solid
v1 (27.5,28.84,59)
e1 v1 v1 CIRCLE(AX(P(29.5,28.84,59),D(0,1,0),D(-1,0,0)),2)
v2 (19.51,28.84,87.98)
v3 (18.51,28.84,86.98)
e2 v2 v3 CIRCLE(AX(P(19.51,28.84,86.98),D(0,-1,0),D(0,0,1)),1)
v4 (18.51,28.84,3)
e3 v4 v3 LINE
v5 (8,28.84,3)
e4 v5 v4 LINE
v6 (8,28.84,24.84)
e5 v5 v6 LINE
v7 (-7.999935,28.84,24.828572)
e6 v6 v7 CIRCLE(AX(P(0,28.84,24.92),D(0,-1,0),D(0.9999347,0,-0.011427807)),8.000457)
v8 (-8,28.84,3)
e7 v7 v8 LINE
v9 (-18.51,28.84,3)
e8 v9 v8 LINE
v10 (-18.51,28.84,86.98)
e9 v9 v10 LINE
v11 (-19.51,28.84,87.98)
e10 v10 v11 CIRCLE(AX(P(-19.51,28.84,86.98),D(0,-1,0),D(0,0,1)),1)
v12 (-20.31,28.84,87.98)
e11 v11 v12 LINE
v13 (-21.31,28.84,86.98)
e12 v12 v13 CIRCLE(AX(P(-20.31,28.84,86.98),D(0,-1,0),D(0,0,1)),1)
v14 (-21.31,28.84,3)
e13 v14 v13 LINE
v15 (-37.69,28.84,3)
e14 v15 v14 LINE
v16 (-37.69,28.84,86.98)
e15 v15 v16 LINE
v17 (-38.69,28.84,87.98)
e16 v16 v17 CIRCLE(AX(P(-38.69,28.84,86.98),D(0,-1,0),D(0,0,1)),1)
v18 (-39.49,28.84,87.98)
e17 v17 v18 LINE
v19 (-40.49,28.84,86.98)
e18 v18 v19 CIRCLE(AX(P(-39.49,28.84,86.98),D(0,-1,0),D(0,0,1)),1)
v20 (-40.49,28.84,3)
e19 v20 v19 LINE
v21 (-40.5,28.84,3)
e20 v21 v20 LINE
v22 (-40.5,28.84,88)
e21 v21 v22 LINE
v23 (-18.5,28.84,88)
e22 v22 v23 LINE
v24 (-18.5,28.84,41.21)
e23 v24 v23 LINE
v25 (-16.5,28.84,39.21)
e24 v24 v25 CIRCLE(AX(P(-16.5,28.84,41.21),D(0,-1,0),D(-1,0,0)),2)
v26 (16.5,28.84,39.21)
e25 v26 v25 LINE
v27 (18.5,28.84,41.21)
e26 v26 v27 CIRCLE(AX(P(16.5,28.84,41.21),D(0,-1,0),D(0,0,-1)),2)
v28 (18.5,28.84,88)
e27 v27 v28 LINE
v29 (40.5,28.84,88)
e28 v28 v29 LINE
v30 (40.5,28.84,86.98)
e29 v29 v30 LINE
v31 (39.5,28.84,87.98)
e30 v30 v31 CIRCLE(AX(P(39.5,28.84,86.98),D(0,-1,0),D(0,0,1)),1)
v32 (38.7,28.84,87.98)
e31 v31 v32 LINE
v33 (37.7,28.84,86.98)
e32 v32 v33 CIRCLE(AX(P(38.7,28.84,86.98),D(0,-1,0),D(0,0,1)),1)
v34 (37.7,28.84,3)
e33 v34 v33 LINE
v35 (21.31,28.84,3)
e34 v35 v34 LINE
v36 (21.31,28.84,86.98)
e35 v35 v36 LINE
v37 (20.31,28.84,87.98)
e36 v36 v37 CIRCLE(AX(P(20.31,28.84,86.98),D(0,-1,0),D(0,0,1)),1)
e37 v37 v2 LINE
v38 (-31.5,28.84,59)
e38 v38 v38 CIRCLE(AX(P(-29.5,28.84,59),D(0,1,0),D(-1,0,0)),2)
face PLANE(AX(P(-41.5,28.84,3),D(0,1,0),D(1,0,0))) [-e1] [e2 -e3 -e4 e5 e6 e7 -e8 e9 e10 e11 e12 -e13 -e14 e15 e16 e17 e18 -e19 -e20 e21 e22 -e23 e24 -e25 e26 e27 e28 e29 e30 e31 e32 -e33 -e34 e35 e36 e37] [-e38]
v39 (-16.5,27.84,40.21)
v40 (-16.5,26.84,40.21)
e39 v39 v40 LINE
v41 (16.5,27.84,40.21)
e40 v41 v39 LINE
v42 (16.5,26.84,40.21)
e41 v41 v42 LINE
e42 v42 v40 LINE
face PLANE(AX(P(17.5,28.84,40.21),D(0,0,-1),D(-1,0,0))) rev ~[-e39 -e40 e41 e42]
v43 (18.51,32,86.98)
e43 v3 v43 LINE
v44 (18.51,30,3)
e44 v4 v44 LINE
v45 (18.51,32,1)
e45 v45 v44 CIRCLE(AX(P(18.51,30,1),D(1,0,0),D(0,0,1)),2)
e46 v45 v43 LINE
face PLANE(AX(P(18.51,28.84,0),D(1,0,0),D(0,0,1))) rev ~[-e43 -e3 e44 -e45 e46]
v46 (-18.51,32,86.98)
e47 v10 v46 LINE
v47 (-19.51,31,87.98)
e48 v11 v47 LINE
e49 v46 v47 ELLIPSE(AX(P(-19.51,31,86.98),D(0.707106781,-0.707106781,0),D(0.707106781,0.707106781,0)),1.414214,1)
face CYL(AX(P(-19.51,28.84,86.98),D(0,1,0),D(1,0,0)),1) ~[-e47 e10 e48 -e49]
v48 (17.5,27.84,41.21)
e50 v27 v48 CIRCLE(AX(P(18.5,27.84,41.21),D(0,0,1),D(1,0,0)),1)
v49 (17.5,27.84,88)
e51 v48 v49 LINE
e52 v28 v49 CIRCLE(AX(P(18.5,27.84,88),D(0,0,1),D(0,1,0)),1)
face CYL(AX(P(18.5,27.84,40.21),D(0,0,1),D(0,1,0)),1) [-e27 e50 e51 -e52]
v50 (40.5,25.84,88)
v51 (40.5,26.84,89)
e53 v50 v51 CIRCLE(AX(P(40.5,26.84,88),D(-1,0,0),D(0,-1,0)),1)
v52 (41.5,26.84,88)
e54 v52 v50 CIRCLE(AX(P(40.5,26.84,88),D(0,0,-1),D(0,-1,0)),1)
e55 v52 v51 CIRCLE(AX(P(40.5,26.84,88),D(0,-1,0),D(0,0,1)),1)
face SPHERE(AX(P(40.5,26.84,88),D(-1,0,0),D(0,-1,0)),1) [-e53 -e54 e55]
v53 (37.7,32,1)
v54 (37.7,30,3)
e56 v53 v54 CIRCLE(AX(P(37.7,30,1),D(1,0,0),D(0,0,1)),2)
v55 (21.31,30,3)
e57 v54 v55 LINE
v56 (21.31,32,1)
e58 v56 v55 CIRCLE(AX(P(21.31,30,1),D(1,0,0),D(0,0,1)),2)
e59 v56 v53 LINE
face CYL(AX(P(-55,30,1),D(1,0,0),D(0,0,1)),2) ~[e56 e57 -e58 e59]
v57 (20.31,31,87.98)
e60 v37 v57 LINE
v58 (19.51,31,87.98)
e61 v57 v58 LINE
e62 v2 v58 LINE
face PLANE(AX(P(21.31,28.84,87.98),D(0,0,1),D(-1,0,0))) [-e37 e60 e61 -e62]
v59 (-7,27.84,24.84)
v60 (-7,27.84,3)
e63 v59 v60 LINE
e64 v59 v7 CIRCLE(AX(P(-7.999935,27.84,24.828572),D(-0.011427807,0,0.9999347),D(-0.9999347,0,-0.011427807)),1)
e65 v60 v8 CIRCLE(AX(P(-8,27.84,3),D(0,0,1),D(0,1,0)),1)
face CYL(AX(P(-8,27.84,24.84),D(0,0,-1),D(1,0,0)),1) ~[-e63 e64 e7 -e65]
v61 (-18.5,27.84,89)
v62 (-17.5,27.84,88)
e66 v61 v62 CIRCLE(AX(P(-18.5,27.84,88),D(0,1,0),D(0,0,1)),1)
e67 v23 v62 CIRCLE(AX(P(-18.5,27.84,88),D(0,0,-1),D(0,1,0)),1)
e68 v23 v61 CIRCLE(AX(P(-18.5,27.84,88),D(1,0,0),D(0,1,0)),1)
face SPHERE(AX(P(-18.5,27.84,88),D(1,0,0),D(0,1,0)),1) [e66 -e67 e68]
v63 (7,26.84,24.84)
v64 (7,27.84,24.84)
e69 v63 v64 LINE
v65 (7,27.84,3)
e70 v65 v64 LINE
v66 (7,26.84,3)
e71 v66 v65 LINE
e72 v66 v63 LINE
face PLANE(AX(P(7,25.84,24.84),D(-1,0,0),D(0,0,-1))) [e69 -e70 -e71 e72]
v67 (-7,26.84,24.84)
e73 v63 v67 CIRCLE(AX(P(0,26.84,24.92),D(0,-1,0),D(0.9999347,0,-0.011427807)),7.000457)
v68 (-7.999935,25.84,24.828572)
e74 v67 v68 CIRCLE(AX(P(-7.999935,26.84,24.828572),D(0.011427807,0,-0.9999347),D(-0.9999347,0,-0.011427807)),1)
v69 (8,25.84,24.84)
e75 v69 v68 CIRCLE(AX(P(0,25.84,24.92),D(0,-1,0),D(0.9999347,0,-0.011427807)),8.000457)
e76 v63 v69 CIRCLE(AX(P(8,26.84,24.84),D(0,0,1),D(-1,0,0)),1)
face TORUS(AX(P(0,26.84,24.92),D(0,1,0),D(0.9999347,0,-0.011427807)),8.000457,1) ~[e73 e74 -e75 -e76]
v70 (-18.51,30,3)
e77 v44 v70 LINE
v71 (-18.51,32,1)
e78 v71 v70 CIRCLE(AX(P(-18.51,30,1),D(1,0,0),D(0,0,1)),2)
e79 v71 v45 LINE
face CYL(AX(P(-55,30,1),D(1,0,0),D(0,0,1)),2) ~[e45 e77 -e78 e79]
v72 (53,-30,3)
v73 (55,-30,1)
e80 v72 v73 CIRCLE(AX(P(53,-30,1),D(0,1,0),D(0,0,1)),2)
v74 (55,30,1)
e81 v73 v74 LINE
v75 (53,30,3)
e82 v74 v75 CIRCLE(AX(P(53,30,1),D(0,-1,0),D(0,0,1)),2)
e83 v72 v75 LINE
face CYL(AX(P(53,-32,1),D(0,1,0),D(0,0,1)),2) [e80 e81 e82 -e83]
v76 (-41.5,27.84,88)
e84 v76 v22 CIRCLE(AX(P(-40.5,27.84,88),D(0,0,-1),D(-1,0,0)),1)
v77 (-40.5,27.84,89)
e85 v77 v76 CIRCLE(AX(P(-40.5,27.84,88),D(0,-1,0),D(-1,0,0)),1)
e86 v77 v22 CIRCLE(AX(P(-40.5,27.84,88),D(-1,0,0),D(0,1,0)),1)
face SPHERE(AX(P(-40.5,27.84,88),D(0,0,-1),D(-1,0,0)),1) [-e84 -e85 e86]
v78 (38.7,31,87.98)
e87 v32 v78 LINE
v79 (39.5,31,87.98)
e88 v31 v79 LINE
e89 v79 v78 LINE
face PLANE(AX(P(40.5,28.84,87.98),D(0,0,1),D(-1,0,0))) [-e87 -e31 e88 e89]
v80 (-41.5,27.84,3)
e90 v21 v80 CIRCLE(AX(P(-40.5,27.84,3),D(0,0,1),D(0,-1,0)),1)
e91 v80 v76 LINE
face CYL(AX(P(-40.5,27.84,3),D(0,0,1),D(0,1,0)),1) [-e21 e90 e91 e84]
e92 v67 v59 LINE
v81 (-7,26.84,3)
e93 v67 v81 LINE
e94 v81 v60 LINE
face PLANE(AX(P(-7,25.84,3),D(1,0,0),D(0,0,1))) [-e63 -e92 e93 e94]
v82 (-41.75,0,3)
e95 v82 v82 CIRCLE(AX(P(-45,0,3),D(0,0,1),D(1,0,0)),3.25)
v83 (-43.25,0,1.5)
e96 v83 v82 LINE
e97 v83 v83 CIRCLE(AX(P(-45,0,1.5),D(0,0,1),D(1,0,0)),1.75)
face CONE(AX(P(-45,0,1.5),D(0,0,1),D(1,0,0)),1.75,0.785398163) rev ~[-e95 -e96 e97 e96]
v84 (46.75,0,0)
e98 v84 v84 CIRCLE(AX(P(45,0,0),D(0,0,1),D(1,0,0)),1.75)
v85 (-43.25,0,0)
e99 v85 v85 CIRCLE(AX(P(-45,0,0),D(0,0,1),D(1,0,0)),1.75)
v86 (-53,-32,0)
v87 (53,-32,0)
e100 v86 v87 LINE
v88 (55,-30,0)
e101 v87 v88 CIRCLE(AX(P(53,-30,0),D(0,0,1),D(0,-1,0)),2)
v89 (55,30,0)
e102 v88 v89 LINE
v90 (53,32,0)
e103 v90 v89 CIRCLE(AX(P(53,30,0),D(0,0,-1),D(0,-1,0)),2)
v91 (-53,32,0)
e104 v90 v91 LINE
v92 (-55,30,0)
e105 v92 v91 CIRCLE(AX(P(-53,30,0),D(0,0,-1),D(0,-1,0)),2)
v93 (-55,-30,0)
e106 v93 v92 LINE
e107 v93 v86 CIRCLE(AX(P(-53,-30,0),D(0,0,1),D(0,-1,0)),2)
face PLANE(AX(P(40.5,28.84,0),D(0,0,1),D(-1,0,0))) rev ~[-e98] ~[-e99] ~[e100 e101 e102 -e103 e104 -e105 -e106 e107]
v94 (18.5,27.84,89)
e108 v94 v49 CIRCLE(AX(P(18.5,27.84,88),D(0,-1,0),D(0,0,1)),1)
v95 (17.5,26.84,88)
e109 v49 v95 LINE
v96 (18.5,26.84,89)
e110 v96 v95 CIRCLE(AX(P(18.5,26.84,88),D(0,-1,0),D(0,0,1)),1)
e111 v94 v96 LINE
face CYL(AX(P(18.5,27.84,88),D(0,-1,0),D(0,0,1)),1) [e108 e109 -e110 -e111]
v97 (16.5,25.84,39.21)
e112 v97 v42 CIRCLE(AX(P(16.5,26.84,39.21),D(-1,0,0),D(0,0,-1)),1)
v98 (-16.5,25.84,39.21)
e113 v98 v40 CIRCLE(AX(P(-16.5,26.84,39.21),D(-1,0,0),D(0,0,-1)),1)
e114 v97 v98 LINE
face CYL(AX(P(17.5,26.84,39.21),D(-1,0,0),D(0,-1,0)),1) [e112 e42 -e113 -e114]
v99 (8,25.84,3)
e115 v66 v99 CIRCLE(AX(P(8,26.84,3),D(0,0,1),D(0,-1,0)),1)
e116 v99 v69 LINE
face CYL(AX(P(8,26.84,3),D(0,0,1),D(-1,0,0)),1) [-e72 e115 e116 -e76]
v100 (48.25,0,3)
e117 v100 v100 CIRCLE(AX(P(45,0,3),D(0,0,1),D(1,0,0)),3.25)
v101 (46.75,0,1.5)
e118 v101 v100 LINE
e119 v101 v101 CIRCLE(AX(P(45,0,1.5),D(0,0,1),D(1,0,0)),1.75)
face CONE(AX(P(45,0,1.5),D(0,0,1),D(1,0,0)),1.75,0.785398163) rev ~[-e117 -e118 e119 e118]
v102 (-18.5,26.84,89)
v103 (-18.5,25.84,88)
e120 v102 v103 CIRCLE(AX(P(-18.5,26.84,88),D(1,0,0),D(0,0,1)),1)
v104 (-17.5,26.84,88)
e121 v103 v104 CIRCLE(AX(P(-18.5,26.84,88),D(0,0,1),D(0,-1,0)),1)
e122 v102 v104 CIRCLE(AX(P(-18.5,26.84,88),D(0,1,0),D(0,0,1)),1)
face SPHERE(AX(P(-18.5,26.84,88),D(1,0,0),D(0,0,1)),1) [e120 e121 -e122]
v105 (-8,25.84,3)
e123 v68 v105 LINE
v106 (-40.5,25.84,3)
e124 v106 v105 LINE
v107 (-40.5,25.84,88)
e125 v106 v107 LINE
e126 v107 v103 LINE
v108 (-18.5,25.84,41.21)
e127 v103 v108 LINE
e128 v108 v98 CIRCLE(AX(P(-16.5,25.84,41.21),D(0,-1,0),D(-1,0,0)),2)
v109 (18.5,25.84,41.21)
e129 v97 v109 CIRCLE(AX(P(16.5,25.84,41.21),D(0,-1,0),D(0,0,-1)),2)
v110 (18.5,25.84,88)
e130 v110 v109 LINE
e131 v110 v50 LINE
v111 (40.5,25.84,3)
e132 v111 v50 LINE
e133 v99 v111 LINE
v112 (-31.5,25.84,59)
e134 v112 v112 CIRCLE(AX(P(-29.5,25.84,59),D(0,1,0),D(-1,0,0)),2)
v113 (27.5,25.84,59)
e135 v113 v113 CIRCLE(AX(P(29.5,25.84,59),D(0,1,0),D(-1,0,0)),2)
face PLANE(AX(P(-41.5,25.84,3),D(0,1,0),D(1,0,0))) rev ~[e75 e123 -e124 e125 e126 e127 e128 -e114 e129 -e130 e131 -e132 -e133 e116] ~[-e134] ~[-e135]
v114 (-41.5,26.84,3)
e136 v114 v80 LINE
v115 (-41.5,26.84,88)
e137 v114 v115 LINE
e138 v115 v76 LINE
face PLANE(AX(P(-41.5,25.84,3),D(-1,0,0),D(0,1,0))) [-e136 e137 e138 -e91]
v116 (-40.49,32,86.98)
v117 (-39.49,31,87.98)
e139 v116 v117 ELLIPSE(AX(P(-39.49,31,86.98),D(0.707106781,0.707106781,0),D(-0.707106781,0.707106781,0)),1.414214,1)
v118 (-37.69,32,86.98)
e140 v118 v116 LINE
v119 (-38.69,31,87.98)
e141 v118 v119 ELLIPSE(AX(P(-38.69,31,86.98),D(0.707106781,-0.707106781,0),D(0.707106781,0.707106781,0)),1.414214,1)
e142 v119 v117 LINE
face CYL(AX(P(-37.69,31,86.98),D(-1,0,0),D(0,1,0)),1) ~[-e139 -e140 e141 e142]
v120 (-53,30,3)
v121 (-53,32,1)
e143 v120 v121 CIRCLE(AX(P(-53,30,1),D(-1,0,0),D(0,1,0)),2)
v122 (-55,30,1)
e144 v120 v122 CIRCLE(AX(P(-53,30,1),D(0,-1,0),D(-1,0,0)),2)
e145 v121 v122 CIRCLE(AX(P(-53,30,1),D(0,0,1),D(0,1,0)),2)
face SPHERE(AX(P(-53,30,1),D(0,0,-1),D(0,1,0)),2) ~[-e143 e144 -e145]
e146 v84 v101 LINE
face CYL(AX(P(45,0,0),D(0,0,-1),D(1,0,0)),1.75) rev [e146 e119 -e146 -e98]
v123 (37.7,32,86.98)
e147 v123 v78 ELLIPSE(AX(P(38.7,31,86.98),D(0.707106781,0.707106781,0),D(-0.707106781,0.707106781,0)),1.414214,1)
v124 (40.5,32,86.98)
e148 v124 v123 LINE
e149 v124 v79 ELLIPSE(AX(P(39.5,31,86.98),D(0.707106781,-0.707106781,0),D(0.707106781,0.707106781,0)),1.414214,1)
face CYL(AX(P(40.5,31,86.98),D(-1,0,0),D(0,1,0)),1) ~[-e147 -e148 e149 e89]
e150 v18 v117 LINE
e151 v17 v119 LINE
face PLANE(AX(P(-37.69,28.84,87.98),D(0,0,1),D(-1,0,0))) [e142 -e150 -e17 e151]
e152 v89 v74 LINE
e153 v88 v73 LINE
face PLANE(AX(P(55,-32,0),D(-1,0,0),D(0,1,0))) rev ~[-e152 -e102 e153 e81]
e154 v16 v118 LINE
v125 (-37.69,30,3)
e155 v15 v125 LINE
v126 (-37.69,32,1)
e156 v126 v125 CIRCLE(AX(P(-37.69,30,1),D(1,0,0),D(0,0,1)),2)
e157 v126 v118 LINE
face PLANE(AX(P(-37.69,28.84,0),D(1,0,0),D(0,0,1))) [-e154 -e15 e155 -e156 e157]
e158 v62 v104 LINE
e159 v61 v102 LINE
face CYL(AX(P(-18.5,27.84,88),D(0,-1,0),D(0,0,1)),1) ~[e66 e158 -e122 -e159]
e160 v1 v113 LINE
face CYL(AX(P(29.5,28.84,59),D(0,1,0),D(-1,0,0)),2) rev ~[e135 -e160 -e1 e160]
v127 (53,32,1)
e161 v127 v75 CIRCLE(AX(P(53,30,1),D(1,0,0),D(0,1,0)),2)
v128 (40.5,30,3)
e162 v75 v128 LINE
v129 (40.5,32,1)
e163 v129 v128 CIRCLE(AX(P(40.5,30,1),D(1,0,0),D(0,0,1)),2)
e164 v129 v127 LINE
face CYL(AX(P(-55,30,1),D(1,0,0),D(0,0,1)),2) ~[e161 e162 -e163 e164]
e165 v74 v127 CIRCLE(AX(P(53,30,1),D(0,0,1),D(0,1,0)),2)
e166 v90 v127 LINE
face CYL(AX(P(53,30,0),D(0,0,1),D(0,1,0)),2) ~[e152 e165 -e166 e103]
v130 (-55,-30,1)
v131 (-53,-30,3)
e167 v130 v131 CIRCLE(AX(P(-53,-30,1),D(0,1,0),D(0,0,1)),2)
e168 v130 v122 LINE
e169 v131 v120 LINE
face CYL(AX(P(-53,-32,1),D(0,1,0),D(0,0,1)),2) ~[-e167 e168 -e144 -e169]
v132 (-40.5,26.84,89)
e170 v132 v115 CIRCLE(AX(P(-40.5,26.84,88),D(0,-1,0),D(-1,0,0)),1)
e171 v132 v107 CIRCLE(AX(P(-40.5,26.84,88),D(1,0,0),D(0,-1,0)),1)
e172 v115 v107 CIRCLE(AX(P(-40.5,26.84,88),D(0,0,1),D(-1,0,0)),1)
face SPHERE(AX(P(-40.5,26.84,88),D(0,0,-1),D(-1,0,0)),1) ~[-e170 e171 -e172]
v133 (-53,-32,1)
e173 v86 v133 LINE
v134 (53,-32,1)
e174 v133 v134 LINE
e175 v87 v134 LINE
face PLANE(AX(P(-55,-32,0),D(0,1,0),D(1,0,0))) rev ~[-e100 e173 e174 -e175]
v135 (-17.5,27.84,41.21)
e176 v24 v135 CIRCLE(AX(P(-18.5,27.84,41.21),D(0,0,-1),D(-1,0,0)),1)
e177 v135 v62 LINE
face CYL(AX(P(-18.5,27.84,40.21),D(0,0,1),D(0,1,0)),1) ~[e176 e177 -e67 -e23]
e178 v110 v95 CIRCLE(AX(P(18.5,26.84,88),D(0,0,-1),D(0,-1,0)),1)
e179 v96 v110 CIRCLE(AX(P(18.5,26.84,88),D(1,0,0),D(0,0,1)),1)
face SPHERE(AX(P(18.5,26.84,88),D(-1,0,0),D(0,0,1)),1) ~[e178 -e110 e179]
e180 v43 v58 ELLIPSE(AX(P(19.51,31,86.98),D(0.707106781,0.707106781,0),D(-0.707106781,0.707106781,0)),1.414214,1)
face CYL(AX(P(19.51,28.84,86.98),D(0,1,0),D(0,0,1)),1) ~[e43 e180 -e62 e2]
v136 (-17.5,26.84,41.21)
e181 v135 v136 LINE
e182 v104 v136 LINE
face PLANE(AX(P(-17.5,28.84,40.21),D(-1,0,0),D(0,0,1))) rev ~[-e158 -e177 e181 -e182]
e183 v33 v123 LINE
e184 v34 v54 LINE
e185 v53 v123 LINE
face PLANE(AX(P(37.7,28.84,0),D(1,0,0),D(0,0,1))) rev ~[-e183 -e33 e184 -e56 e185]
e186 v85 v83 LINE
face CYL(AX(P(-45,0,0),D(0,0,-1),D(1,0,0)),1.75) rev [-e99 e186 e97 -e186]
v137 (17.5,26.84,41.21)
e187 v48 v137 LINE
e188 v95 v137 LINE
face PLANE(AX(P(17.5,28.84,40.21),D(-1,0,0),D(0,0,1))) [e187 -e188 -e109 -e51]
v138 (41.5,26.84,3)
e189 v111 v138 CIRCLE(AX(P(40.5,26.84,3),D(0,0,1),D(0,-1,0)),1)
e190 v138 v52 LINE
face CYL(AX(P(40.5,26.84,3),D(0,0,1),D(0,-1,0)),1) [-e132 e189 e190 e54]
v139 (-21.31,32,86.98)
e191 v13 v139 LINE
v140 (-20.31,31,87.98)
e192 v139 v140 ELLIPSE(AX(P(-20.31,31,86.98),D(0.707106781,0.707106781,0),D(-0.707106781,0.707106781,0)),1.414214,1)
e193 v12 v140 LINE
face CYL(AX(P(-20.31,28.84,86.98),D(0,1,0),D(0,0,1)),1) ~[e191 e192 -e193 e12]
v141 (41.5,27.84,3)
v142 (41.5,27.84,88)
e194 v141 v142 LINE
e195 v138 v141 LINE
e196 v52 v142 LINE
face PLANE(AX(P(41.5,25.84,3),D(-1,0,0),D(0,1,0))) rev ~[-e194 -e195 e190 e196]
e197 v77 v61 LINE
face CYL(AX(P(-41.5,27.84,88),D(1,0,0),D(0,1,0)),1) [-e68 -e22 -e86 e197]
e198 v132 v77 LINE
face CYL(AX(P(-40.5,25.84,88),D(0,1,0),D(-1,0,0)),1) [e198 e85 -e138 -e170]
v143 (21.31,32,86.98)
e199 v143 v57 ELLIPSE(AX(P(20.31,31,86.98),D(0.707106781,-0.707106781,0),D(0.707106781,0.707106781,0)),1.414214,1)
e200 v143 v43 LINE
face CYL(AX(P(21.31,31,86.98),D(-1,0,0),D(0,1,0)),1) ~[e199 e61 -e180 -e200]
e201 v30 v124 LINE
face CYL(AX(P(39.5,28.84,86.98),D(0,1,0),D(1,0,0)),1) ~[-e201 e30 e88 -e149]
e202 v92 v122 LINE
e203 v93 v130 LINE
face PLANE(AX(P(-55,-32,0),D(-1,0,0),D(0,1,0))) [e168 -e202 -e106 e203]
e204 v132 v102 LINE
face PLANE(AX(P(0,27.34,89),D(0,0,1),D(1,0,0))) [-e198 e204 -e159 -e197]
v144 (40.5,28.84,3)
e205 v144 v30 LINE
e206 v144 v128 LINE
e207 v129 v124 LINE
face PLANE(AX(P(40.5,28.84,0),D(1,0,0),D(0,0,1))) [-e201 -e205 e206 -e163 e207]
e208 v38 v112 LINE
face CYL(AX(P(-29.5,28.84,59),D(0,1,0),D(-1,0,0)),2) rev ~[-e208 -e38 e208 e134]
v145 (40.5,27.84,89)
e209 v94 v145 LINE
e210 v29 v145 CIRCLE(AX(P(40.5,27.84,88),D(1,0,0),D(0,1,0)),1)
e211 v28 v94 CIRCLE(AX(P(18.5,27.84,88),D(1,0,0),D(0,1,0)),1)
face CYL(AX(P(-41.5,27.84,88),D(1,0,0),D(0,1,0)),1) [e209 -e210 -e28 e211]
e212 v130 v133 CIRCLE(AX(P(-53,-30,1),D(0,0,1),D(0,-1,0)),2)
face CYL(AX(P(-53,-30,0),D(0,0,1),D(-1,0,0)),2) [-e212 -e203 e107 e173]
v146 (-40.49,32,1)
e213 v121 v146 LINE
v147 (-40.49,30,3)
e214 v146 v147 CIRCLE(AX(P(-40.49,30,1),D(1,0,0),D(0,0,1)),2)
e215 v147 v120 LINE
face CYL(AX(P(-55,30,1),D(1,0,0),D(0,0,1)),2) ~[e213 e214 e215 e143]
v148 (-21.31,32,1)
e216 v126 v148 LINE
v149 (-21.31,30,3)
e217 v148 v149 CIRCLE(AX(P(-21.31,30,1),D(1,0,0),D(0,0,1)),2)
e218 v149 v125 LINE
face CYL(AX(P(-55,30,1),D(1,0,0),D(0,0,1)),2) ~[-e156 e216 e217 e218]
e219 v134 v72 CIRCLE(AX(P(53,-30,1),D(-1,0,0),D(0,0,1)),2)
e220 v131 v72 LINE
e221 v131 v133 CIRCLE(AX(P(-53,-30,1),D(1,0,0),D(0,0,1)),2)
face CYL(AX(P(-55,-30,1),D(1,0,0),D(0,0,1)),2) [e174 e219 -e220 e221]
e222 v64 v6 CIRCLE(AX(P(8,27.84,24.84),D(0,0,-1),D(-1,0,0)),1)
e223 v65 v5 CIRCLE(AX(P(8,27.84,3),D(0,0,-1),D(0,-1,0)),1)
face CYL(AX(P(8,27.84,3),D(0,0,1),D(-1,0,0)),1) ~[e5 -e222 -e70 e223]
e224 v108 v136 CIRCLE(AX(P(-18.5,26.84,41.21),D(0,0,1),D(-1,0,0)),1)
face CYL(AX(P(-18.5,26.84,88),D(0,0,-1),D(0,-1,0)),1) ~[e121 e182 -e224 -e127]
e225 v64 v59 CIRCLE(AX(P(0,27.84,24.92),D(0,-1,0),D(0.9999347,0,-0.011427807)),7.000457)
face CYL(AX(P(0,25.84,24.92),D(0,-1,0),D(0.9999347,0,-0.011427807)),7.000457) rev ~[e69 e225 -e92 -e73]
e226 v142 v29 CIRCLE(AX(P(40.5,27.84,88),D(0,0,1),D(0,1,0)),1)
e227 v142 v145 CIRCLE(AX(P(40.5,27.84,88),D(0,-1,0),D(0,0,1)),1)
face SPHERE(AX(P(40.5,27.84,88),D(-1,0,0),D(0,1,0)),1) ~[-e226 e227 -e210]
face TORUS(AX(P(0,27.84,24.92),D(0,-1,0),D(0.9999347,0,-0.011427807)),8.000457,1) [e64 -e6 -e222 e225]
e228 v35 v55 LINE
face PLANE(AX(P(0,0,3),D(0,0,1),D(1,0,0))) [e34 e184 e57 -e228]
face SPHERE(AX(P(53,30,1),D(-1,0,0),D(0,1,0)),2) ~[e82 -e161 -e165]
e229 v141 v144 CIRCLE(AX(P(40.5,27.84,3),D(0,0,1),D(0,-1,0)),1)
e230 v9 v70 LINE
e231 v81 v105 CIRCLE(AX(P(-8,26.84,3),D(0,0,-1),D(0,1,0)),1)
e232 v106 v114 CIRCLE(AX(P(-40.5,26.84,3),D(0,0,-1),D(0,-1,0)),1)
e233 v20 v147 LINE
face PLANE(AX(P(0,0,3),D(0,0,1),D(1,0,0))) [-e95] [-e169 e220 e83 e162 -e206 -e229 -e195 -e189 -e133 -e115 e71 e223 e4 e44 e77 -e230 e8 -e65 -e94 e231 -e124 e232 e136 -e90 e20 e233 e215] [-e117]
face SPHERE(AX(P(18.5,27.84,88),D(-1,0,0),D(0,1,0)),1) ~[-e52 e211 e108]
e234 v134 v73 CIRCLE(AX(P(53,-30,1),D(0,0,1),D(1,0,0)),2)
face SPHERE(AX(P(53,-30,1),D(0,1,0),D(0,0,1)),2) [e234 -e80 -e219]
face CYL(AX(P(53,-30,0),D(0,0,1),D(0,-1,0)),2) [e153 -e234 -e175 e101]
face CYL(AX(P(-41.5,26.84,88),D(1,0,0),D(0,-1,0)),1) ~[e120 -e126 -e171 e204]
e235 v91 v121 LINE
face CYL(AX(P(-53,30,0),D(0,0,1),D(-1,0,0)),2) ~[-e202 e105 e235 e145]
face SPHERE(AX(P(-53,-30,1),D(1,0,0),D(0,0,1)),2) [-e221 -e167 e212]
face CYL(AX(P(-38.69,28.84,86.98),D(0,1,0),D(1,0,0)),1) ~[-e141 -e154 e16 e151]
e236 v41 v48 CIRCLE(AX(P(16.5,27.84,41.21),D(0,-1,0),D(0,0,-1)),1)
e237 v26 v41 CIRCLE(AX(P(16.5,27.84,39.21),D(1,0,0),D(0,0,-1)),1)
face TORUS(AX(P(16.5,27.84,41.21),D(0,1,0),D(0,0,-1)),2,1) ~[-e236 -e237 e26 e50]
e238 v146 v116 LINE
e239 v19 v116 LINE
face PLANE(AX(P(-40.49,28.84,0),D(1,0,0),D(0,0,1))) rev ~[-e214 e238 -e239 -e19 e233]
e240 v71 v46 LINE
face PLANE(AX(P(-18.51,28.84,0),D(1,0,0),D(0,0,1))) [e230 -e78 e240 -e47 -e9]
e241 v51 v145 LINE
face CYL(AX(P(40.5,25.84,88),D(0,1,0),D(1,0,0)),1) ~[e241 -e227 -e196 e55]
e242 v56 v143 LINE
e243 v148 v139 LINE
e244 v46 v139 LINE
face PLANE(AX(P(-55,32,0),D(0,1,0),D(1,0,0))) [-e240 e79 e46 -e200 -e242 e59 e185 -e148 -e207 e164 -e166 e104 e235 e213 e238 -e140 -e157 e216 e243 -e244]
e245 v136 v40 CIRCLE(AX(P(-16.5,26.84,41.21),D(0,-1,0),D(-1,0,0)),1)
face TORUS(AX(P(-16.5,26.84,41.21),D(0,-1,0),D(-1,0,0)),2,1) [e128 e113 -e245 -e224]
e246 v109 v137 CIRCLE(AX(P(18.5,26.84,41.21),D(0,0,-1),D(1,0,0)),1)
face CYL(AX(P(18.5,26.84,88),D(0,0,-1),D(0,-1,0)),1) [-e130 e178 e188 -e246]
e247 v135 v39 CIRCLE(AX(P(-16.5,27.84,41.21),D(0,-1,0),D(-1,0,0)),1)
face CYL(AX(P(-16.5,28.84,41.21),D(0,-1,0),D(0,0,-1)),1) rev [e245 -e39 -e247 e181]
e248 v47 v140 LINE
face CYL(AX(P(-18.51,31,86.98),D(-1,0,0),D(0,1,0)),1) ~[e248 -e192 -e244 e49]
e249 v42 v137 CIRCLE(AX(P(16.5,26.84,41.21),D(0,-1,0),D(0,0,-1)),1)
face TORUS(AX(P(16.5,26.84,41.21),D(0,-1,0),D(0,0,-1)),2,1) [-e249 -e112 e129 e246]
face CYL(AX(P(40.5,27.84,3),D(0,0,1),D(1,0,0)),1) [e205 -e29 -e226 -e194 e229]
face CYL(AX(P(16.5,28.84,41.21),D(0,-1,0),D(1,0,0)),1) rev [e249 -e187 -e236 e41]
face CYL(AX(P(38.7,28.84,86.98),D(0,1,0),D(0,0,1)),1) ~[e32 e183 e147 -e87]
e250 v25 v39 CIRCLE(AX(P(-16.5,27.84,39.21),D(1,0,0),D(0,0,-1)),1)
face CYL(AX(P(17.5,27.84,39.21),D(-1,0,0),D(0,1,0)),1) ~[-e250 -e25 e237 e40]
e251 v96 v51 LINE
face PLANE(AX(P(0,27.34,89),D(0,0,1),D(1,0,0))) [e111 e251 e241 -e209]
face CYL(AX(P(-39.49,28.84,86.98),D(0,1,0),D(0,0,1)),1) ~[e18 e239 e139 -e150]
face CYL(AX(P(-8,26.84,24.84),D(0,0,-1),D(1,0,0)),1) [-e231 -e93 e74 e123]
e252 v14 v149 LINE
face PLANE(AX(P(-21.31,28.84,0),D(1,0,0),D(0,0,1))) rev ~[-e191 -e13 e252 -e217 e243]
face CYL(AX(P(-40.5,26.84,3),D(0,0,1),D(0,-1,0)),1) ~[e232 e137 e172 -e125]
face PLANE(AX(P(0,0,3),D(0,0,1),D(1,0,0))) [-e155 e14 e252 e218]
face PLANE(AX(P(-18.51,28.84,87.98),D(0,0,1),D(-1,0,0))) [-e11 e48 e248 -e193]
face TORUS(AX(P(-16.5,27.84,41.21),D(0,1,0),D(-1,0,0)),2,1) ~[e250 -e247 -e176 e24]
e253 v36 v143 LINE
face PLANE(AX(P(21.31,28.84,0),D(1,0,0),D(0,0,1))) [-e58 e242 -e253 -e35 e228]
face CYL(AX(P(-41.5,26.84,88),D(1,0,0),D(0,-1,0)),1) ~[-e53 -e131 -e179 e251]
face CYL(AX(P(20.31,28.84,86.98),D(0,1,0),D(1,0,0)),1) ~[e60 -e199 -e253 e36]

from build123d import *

# Parameters (mm, degrees)
SKETCH_W        = 110
SKETCH_H        = 64
SKETCH_R        = 1.75
PAD_DEPTH       = 3
CHAMFER_SIZE    = 1.5
FILLET_R        = 2
SKETCH001_W     = 83
SKETCH001_H     = 3
PAD001_DEPTH    = 86
FILLET001_R     = 1
SKETCH002_R     = 2
POCKET_DEPTH    = 5
POCKET001_DEPTH = 5
FILLET002_R     = 1
SKETCH004_W     = 35
SKETCH004_H     = 53
POCKET002_DEPTH = 5
FILLET003_R     = 1
SKETCH005_W     = 2.8
SKETCH005_H     = 87.98
PAD002_DEPTH    = 3.16
FILLET004_R     = 1


with BuildPart() as part:
    # Sketch → Pad (new body)
    with BuildSketch(Plane.XY):
        Rectangle(SKETCH_W, SKETCH_H)
        with Locations((-45, 0)):
            Circle(SKETCH_R, mode=Mode.SUBTRACT)
        with Locations((45, 0)):
            Circle(SKETCH_R, mode=Mode.SUBTRACT)
    extrude(amount=PAD_DEPTH)

    # Chamfer
    chamfer_edges = [part.edges().sort_by_distance(p)[0] for p in [
        (43.25, 0, 3),
        (-46.75, 0, 3),
    ]]
    chamfer(chamfer_edges, length=CHAMFER_SIZE)

    # Fillet
    fillet_edges = [part.edges().sort_by_distance(p)[0] for p in [
        (-55, 32, 1.5),
        (0, 32, 3),
        (55, 32, 1.5),
        (55, 0, 3),
        (0, -32, 3),
        (-55, 0, 3),
        (-55, -32, 1.5),
        (55, -32, 1.5),
    ]]
    fillet(fillet_edges, radius=FILLET_R)

    # Sketch001 (on Face22 of Fillet) → Pad001 (join)
    with BuildSketch(Plane.XY.offset(3)):
        with Locations((0, 27.34)):
            Rectangle(SKETCH001_W, SKETCH001_H)
    extrude(amount=PAD001_DEPTH)

    # Fillet001
    fillet001_edges = [part.edges().sort_by_distance(p)[0] for p in [
        (-41.5, 25.84, 46),
        (-41.5, 28.84, 46),
        (-41.5, 27.34, 89),
        (0, 28.84, 89),
        (0, 25.84, 89),
        (41.5, 25.84, 46),
        (41.5, 28.84, 46),
        (41.5, 27.34, 89),
    ]]
    fillet(fillet001_edges, radius=FILLET001_R)

    # Sketch002 (on Face6 of Fillet001) → Pocket (cut)
    with BuildSketch(Plane(origin=(0, 28.84, 0), x_dir=(-1, 0, 0), z_dir=(0, 1, 0))):
        with Locations((-29.5, 59)):
            Circle(SKETCH002_R)
        with Locations((29.5, 59)):
            Circle(SKETCH002_R)
    extrude(amount=-POCKET_DEPTH, mode=Mode.SUBTRACT)

    # Sketch003 (on Face5 of Pocket) → Pocket001 (cut)
    with BuildSketch(Plane.XZ.offset(-25.84)):
        with BuildLine():
            Line((7, 24.84), (7, 3))
            Line((7, 3), (-7, 3))
            Line((-7, 3), (-7, 24.84))
            ThreePointArc((7, 24.84), (0, 31.920457), (-7, 24.84))
        make_face()
    extrude(amount=-POCKET001_DEPTH, mode=Mode.SUBTRACT)

    # Fillet002
    fillet002_edges = [part.edges().sort_by_distance(p)[0] for p in [
        (0, 25.84, 31.920457),
        (-7, 25.84, 13.92),
        (7, 25.84, 13.92),
        (-7, 28.84, 13.92),
        (0, 28.84, 31.920457),
        (7, 28.84, 13.92),
    ]]
    fillet(fillet002_edges, radius=FILLET002_R)

    # Sketch004 (on Face7 of Fillet002) → Pocket002 (cut)
    with BuildSketch(Plane(origin=(0, 28.84, 0), x_dir=(-1, 0, 0), z_dir=(0, 1, 0))):
        with Locations((0, 66.71)):
            Rectangle(SKETCH004_W, SKETCH004_H)
    extrude(amount=-POCKET002_DEPTH, mode=Mode.SUBTRACT)

    # Fillet003
    fillet003_edges = [part.edges().sort_by_distance(p)[0] for p in [
        (0, 28.84, 40.21),
        (0, 25.84, 40.21),
        (-17.5, 27.34, 40.21),
        (-17.5, 28.84, 64.105),
        (-17.5, 25.84, 64.105),
        (17.5, 28.84, 64.105),
        (17.5, 28.547107, 88.707107),
        (17.5, 27.34, 89),
        (-17.5, 28.547107, 88.707107),
        (-17.5, 27.34, 89),
        (-17.5, 26.132893, 88.707107),
        (17.5, 27.34, 40.21),
        (17.5, 25.84, 64.105),
        (17.5, 26.132893, 88.707107),
    ]]
    fillet(fillet003_edges, radius=FILLET003_R)

    # Sketch005 (on Face25 of Fillet003) → Pad002 (join)
    with BuildSketch(Plane(origin=(0, 28.84, 0), x_dir=(-1, 0, 0), z_dir=(0, 1, 0))):
        with Locations((-39.1, 43.99)):
            Rectangle(SKETCH005_W, SKETCH005_H)
        with Locations((-19.91, 43.99)):
            Rectangle(SKETCH005_W, SKETCH005_H)
        with Locations((19.91, 43.99)):
            Rectangle(SKETCH005_W, SKETCH005_H)
        with Locations((39.09, 43.99)):
            Rectangle(SKETCH005_W, SKETCH005_H)
    extrude(amount=PAD002_DEPTH)

    # Fillet004
    fillet004_edges = [part.edges().sort_by_distance(p)[0] for p in [
        (40.5, 30.42, 87.98),
        (39.1, 32, 87.98),
        (37.7, 30.42, 87.98),
        (21.31, 30.42, 87.98),
        (19.91, 32, 87.98),
        (18.51, 30.42, 87.98),
        (-18.51, 30.42, 87.98),
        (-19.91, 32, 87.98),
        (-21.31, 30.42, 87.98),
        (-37.69, 30.42, 87.98),
        (-39.09, 32, 87.98),
        (-40.49, 30.42, 87.98),
    ]]
    fillet(fillet004_edges, radius=FILLET004_R)


solid = part.part
